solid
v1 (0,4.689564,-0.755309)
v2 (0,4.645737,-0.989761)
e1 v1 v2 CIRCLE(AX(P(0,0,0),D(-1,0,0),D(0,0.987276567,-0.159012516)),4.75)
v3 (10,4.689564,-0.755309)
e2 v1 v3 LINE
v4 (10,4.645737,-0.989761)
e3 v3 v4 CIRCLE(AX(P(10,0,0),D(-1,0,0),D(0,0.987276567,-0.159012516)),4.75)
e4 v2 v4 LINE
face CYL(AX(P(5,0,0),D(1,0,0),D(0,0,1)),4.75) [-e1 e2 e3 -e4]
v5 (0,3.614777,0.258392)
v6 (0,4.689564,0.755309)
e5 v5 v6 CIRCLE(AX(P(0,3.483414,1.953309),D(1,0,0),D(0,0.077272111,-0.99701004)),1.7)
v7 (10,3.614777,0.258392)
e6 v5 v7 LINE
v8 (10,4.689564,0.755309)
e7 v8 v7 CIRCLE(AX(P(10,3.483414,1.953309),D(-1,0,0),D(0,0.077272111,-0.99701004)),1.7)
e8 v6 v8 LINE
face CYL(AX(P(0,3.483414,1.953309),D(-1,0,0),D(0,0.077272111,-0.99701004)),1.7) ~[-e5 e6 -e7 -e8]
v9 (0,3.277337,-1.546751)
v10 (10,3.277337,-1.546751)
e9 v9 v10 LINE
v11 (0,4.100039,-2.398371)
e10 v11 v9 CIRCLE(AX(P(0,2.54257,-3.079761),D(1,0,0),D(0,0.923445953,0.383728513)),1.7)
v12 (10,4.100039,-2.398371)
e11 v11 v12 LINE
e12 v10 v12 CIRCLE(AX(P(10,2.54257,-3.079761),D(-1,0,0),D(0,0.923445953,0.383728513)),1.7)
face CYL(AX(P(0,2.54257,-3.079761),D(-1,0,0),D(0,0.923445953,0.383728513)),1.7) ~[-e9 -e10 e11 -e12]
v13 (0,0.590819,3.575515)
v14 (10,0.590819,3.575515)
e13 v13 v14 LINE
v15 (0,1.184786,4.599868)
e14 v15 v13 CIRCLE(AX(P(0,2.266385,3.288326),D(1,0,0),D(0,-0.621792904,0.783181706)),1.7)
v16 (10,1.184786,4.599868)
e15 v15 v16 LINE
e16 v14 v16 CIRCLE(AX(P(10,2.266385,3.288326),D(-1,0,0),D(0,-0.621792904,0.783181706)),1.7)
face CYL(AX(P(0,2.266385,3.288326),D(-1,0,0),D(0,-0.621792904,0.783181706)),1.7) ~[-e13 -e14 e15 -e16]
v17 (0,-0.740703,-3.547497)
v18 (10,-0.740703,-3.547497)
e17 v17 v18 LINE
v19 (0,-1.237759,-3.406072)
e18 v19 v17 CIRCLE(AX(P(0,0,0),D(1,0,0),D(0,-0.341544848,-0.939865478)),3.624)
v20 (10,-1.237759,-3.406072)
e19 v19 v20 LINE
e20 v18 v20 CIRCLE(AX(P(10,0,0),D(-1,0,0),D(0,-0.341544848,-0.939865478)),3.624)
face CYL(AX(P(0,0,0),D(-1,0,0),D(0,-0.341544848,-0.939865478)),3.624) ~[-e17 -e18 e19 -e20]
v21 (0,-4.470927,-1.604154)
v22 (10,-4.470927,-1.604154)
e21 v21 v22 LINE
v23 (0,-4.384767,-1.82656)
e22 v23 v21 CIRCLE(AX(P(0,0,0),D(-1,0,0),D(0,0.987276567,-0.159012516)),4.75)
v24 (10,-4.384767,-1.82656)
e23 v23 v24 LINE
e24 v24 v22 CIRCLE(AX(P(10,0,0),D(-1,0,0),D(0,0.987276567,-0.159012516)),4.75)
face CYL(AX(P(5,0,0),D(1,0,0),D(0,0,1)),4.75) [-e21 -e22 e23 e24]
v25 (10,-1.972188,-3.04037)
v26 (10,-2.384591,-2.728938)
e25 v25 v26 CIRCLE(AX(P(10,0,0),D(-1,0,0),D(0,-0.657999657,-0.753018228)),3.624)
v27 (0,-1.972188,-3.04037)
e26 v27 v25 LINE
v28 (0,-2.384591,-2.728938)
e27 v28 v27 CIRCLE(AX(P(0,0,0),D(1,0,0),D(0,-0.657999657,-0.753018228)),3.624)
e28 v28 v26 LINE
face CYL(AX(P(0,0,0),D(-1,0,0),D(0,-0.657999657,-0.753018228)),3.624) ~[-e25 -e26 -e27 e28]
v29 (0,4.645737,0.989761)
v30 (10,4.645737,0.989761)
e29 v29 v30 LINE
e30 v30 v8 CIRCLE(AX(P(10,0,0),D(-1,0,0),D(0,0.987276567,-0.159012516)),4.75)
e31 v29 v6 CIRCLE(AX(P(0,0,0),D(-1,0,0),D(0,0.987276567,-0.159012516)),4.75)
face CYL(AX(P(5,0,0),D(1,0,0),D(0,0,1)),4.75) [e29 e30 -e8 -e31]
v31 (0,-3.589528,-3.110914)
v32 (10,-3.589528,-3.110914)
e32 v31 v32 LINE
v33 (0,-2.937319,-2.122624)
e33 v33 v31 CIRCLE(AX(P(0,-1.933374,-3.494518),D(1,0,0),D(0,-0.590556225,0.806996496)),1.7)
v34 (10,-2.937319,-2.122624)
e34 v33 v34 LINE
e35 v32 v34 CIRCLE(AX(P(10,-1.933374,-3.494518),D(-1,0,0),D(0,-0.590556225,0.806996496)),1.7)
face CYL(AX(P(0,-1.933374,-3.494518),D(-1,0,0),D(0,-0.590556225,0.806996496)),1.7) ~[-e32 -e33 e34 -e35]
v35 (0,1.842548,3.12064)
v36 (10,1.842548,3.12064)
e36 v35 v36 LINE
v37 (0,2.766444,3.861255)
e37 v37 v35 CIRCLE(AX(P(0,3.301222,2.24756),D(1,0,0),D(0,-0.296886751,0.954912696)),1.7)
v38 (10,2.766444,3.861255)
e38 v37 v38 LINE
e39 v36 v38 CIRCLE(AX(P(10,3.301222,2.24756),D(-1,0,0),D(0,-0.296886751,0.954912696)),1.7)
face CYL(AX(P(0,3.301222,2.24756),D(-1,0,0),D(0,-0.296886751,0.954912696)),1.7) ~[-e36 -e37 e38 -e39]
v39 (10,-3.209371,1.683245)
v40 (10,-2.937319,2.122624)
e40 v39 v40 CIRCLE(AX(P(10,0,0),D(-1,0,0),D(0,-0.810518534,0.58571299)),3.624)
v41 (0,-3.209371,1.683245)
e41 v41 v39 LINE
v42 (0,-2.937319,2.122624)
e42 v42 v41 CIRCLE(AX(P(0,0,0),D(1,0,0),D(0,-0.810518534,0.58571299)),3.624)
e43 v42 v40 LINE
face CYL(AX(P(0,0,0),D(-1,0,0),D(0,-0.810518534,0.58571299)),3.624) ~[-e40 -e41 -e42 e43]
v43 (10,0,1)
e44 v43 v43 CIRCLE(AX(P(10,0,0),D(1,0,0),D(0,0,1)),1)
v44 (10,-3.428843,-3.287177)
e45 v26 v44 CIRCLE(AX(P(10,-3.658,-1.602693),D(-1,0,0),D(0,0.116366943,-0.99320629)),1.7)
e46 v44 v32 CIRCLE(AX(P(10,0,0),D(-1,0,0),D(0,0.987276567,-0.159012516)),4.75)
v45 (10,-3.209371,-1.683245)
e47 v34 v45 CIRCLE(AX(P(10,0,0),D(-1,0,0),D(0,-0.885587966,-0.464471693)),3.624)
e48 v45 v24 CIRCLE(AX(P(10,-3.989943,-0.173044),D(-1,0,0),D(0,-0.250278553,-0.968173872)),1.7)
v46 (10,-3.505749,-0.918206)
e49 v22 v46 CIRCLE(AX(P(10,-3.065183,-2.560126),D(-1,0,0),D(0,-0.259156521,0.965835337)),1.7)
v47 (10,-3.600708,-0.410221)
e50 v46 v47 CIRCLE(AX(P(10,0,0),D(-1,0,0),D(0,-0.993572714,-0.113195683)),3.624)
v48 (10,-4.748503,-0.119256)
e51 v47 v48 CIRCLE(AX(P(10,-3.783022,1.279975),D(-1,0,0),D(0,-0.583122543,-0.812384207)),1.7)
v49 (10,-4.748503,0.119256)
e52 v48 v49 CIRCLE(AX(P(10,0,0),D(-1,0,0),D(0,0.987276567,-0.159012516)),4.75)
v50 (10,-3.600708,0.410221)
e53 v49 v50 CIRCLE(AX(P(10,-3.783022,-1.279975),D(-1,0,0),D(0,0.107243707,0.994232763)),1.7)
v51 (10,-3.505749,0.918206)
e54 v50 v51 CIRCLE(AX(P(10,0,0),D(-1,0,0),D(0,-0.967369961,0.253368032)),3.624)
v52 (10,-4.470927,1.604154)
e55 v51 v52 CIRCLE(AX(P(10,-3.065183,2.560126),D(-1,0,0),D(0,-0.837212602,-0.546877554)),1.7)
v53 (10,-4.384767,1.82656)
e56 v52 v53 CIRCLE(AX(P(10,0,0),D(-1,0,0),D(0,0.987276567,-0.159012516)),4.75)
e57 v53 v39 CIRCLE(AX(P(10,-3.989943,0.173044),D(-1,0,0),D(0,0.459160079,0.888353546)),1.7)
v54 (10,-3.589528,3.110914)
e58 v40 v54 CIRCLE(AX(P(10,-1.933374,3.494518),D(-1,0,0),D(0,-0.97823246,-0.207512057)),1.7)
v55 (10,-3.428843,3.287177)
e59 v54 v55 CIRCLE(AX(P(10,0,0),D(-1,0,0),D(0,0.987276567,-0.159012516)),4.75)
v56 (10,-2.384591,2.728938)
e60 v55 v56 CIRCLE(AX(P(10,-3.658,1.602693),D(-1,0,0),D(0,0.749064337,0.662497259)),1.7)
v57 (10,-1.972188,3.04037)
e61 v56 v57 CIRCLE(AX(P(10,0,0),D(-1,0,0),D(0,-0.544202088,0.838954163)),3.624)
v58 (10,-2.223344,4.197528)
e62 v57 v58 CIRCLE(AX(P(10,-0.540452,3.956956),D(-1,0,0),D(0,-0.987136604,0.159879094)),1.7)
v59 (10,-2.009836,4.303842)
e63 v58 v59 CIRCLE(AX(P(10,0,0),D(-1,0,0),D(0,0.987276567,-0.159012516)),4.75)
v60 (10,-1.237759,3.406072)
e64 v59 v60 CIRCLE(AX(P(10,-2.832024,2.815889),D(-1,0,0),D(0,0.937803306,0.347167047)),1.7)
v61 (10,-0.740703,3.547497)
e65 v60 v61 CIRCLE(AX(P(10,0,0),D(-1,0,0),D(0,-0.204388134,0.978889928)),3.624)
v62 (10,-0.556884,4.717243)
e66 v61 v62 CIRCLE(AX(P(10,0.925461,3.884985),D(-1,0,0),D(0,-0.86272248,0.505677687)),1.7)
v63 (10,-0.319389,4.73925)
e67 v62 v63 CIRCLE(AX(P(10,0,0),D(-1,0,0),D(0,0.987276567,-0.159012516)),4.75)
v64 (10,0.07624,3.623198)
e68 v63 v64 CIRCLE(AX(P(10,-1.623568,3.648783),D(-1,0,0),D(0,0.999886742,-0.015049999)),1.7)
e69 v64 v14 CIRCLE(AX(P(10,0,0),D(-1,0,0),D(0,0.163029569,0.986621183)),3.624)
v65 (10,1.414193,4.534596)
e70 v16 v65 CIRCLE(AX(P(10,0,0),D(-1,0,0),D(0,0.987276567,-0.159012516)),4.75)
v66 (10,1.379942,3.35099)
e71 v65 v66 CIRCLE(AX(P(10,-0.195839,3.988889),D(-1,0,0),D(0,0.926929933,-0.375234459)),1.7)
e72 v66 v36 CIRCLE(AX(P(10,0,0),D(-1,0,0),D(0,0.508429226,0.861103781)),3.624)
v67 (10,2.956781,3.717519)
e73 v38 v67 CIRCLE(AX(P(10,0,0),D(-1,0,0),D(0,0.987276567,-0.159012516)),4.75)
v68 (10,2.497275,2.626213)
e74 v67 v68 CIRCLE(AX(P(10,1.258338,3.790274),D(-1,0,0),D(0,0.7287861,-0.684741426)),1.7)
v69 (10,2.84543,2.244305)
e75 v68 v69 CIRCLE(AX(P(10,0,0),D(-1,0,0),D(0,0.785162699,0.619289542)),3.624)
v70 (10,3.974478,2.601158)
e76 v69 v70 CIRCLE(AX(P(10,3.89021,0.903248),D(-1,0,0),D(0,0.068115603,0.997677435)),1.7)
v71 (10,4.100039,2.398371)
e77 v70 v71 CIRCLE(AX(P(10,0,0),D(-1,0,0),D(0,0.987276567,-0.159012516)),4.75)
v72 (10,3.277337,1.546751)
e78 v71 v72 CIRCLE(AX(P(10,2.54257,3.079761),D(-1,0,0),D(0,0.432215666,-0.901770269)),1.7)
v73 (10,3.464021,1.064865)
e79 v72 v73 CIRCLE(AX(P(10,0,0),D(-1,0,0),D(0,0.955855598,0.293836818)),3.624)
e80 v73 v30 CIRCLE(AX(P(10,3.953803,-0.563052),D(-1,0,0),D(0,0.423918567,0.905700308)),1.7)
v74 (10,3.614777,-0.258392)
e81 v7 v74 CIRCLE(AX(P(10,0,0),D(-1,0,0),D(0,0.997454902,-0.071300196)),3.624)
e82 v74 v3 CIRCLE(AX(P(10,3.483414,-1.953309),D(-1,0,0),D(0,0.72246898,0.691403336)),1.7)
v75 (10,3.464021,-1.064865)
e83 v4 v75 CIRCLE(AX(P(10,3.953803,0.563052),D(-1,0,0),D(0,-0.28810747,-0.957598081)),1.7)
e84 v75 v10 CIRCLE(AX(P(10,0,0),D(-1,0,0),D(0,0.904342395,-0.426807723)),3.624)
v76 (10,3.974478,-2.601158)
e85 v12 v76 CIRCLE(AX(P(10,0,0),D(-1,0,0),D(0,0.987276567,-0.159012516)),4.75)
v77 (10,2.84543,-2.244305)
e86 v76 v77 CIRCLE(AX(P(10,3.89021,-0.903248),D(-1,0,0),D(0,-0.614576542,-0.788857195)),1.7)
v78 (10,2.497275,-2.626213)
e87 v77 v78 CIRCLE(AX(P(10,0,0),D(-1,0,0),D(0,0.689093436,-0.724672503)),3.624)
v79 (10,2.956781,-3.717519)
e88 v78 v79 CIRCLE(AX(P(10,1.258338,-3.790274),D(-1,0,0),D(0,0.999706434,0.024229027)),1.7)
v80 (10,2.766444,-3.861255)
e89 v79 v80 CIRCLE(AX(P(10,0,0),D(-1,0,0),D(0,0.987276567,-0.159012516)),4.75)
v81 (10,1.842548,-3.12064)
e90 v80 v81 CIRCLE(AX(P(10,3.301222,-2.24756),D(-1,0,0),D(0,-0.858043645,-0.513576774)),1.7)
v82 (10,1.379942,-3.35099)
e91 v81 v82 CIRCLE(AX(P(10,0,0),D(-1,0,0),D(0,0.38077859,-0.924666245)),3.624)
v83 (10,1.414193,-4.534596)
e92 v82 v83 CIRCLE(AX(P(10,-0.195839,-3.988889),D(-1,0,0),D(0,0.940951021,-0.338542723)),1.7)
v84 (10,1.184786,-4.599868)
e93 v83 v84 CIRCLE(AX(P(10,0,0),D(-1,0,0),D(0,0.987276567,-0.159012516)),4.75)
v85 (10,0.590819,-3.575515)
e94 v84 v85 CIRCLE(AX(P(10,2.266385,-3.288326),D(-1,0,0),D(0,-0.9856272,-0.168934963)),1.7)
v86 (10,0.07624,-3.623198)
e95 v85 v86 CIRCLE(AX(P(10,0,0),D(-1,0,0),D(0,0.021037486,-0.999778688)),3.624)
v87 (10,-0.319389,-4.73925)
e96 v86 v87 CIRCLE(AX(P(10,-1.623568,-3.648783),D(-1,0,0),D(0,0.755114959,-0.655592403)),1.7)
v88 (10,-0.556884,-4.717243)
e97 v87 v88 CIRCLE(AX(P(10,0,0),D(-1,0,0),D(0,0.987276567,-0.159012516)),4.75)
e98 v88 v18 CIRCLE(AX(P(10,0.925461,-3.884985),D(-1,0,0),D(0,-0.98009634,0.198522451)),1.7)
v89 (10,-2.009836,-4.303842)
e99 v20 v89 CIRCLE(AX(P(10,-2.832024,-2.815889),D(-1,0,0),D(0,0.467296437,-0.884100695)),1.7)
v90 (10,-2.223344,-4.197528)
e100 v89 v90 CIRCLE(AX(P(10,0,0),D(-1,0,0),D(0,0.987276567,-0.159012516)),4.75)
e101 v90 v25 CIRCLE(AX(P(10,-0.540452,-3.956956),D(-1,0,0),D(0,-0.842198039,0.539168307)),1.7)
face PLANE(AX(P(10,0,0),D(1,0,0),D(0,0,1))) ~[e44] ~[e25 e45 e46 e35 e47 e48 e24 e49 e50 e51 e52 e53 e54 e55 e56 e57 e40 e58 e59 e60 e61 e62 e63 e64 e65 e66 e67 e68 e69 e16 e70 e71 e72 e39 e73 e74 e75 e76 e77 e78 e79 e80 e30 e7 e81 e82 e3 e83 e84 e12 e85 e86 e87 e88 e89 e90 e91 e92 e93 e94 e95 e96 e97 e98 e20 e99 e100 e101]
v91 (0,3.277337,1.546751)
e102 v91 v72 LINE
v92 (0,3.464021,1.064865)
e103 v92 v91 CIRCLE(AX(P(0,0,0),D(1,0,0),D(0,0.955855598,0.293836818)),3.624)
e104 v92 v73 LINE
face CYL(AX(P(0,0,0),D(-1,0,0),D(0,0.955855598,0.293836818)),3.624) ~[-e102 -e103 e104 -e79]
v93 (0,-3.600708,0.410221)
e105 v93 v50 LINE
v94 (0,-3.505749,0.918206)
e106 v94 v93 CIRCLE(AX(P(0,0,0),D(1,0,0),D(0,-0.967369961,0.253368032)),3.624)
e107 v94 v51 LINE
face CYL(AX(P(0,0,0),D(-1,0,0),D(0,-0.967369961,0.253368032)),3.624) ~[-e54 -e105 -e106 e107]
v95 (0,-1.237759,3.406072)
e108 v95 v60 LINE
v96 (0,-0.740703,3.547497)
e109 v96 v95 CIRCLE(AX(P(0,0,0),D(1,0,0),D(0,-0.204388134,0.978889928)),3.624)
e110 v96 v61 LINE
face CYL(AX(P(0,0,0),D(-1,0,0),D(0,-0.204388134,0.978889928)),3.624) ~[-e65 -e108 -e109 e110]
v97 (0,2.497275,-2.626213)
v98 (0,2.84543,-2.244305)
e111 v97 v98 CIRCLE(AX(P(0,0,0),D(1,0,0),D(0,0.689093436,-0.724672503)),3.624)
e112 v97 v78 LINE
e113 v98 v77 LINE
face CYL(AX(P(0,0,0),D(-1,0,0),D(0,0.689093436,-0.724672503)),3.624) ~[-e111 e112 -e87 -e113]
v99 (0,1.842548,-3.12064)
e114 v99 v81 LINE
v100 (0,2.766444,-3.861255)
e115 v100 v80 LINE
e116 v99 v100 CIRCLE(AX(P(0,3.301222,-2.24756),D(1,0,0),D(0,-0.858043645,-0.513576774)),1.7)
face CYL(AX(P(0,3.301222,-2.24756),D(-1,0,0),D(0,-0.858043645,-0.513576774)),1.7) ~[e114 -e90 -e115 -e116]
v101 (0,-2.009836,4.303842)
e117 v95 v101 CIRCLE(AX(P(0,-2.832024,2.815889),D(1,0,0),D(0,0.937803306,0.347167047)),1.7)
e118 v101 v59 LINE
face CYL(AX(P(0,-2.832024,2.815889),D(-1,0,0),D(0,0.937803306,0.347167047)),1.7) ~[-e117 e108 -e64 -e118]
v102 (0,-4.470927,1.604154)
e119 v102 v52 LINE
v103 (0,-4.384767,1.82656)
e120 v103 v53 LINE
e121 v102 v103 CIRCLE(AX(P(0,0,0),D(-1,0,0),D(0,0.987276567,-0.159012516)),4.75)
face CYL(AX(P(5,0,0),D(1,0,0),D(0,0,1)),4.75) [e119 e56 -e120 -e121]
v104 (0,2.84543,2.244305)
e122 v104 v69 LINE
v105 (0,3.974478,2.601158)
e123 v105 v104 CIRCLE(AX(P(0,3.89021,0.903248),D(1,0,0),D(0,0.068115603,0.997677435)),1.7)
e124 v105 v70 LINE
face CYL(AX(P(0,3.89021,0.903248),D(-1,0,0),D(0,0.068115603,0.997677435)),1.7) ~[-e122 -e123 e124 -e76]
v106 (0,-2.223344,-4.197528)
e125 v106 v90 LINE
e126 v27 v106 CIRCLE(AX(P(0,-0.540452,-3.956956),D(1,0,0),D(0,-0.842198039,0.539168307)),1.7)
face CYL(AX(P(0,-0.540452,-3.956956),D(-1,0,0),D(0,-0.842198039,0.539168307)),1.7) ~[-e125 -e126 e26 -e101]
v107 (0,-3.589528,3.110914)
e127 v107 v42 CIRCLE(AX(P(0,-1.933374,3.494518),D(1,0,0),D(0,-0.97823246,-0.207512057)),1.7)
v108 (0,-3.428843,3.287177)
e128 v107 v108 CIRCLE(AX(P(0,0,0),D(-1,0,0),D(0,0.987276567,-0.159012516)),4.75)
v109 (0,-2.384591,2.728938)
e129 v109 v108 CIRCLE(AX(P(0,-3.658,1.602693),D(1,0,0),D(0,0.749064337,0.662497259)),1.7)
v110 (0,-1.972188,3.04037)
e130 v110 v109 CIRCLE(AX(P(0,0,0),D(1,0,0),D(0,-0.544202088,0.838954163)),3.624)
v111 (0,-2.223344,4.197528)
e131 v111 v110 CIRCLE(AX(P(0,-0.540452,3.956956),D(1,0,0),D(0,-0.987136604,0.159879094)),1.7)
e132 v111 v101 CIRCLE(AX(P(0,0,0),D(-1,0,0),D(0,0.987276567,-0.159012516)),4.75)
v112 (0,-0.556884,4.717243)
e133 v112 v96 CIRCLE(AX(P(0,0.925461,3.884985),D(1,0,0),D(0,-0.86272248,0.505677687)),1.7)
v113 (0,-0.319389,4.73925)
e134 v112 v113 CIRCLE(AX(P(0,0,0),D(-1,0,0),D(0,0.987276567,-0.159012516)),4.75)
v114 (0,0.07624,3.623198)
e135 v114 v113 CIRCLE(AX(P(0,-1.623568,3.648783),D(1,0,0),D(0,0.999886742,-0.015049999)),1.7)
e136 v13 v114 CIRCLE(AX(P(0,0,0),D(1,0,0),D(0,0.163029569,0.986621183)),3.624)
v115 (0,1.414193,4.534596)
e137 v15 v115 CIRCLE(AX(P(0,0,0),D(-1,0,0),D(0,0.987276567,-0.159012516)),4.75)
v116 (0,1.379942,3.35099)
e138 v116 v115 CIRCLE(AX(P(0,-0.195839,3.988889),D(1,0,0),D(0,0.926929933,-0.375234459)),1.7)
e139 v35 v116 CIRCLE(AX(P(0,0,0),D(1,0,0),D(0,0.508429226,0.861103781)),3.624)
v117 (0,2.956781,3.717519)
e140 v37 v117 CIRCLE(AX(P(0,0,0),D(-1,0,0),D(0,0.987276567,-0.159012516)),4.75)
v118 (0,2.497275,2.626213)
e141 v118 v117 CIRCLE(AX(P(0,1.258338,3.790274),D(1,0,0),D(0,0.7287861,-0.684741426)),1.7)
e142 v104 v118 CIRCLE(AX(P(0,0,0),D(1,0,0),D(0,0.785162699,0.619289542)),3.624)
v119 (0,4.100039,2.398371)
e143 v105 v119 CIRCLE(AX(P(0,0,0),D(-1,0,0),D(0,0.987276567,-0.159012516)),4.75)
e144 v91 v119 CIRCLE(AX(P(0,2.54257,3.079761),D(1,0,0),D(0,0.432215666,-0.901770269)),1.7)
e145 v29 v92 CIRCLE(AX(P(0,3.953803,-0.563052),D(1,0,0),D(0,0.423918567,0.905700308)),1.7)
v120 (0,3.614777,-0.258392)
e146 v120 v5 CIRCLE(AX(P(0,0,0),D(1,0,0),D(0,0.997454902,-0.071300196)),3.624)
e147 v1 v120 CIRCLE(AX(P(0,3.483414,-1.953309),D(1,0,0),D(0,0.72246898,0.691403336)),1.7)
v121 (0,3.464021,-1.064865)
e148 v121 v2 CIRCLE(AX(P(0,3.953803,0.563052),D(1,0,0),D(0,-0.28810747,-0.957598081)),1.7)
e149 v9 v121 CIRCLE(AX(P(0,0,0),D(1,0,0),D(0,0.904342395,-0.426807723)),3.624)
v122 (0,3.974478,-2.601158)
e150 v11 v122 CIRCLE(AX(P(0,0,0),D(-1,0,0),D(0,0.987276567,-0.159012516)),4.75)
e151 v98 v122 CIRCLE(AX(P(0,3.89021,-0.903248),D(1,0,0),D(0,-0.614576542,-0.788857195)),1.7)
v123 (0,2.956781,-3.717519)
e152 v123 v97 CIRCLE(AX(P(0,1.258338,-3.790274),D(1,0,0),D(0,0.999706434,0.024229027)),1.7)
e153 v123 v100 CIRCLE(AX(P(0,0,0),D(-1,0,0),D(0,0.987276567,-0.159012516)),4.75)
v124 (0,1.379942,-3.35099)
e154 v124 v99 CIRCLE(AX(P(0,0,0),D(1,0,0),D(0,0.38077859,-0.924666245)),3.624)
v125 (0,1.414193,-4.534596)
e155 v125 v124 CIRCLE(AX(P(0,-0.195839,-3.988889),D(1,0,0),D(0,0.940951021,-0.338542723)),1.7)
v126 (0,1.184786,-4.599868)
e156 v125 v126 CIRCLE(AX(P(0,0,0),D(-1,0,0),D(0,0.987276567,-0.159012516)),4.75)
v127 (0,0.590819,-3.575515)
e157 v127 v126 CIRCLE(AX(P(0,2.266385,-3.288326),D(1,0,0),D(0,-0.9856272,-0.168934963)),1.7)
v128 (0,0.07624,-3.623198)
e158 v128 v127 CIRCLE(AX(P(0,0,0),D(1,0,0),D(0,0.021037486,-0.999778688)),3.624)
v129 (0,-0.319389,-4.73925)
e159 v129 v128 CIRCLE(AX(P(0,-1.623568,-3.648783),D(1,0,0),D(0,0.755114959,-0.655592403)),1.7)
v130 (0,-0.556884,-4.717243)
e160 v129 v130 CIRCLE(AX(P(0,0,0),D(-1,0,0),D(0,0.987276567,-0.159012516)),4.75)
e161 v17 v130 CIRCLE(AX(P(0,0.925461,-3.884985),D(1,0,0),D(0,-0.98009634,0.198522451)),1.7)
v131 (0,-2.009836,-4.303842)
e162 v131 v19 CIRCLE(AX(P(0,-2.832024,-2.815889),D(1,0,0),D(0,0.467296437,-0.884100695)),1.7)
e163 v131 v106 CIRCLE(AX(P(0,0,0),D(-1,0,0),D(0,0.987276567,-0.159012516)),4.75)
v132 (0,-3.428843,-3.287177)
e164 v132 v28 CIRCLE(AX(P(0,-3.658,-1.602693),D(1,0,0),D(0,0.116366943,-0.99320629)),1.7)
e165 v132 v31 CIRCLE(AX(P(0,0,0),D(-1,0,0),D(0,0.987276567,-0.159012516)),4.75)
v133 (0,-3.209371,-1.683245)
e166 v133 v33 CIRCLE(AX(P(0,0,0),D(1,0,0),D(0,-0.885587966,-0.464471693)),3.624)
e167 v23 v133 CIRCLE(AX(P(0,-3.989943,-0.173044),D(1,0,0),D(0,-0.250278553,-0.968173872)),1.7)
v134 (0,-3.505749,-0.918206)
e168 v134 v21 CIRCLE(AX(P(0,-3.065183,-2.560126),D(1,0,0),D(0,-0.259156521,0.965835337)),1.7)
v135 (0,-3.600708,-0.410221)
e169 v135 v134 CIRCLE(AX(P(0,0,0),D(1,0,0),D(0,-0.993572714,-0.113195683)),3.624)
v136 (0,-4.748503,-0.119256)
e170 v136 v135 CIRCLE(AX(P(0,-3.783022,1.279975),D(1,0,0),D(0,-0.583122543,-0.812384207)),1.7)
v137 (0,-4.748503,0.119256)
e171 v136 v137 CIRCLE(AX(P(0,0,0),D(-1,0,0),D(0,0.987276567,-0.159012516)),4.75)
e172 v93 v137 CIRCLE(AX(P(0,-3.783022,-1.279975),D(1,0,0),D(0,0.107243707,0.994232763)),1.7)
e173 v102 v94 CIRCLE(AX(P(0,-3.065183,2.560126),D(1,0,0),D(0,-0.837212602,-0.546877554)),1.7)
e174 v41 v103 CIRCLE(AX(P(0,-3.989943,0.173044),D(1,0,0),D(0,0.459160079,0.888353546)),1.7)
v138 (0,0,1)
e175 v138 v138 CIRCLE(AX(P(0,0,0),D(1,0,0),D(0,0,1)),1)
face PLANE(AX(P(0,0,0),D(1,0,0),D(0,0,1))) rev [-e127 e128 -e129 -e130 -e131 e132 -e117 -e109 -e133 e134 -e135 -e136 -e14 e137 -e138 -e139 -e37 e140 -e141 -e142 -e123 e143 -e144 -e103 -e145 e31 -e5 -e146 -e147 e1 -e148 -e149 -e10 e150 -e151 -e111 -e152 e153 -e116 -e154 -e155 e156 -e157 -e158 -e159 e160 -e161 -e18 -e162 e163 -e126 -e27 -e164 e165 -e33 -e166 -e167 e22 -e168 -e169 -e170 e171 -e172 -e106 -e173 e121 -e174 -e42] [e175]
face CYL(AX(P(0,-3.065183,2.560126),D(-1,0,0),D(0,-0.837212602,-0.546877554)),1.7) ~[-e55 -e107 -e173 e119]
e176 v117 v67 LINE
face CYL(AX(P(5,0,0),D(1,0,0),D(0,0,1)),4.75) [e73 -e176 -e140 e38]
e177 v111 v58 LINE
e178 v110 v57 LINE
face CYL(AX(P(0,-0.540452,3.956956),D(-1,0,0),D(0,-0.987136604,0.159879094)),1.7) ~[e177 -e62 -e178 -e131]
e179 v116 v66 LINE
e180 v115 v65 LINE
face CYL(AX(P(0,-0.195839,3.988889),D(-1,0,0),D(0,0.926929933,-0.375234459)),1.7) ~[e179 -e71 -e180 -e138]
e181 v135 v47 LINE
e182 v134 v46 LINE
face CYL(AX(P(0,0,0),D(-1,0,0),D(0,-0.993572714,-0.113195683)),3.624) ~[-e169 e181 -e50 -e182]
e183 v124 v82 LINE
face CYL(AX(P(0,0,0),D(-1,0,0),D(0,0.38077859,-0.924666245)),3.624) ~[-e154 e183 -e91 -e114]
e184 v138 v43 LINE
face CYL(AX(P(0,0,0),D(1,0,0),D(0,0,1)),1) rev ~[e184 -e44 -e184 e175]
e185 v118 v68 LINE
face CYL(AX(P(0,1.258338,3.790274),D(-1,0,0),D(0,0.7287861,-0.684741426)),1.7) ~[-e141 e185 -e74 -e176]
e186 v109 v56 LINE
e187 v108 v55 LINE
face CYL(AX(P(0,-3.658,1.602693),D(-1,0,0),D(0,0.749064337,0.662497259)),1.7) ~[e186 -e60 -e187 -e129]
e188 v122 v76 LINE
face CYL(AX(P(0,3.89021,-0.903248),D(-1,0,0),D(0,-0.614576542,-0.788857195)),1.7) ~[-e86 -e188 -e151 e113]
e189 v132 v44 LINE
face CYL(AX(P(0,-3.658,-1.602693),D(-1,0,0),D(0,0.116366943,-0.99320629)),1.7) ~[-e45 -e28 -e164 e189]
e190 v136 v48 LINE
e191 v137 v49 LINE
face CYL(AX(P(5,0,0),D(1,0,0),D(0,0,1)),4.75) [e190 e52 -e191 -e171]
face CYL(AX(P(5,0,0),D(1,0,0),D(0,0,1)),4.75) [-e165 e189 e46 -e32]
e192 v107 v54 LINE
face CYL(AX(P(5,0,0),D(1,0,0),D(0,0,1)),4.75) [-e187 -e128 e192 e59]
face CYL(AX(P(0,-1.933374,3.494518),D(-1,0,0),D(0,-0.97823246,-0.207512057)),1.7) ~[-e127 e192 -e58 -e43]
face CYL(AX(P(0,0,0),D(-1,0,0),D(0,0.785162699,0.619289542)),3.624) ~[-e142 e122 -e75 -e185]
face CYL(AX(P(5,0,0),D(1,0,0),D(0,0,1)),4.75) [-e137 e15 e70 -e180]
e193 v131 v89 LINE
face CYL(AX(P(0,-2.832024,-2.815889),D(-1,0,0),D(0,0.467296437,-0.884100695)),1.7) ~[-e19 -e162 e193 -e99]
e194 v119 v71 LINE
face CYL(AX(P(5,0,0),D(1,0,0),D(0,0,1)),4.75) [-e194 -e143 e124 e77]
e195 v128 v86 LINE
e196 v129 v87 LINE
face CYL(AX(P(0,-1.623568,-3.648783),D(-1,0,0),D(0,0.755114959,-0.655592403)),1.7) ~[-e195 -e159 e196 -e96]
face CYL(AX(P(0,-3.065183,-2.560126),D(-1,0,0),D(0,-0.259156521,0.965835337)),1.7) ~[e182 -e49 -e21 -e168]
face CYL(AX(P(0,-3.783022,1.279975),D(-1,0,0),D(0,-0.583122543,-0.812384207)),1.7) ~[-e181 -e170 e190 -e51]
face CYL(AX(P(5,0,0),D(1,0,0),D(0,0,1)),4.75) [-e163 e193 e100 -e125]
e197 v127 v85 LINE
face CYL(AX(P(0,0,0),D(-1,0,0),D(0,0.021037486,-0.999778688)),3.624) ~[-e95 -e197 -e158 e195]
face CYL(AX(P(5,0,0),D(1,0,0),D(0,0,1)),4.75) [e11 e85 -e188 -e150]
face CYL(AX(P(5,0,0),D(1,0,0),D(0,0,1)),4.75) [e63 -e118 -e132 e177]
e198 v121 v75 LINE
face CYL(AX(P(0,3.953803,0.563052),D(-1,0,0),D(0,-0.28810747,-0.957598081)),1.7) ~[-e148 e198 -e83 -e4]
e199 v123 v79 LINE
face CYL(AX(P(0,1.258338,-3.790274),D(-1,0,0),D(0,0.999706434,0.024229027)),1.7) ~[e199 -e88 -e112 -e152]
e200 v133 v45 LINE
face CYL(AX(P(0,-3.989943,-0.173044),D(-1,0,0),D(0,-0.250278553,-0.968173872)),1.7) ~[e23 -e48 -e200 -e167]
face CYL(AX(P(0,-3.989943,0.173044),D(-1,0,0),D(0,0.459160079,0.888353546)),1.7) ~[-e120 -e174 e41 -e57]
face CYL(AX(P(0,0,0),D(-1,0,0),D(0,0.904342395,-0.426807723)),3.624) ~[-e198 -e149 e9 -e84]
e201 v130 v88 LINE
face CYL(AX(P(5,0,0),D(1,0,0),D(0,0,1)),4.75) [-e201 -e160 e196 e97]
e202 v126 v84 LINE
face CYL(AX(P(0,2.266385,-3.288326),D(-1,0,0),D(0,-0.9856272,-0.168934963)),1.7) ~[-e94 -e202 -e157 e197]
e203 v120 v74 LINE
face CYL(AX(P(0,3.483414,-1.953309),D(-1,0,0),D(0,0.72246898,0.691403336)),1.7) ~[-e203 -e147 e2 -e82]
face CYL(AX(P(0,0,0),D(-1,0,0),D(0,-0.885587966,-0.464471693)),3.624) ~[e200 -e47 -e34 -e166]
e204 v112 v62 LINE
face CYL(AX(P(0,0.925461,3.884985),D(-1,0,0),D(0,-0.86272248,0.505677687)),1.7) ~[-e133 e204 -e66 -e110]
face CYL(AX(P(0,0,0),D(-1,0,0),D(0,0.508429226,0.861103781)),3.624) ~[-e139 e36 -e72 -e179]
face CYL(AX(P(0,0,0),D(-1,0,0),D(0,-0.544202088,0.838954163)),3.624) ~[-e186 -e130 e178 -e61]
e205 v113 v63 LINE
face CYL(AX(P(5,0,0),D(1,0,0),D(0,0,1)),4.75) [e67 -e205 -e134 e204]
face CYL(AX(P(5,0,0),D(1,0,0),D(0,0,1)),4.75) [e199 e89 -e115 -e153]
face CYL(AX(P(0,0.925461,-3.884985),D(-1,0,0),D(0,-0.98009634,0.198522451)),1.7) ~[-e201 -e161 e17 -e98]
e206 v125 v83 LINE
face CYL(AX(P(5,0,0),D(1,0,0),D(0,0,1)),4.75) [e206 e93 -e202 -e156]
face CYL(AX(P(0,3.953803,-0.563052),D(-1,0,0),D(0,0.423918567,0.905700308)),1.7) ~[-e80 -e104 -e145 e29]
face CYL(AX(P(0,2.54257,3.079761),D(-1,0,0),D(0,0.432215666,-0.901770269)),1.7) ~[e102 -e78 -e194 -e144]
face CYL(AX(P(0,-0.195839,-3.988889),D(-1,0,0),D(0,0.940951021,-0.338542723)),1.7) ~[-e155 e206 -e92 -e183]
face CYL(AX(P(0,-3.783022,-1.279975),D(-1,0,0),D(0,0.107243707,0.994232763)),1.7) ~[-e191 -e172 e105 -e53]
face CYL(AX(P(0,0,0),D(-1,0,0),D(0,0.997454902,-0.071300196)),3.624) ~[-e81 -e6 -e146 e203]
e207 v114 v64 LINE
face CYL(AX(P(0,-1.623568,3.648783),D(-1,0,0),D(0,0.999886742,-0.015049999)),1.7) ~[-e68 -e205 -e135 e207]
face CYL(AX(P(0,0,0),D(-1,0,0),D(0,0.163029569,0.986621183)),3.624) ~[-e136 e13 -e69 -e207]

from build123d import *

# Parameters (mm, degrees)
BASPROSKE_W     = 10
BASPROSKE_H     = 4.75
TOOTHCUT_DEPTH  = 13.046783803
TEETHCUTS_COUNT = 17
TEETHCUTS_ANGLE = 338.823529412
BORSKE_R        = 1
BORE_DEPTH      = 50.0000508


with BuildPart() as part:
    # BasProSke → Base-Revolve (revolve)
    with BuildSketch(Plane(origin=(0, 0, 0), x_dir=(1, 0, 0), z_dir=(0, 1, 0)), mode=Mode.PRIVATE) as base_revolve_sk:
        with Locations((5, 2.375)):
            Rectangle(BASPROSKE_W, BASPROSKE_H)
    revolve(base_revolve_sk.sketch.rotate(Axis((-10, 0, 0), (1, 0, 0)), 180), axis=Axis((-10, 0, 0), (1, 0, 0)))

    # TooCutSke → ToothCut (cut, through all)
    with BuildSketch(Plane(origin=(0, 0, 0), x_dir=(0, 0, -1), z_dir=(1, 0, 0))):
        with BuildLine():
            ThreePointArc((0.258391906, 3.614776566), (0, 3.624), (-0.258391906, 3.614776566))
            ThreePointArc((-0.258391906, 3.614776566), (-0.416942797, 4.211135742), (-0.777923303, 4.711611242))
            ThreePointArc((-0.777923303, 4.711611242), (0, 4.7754), (0.777923303, 4.711611242))
            ThreePointArc((0.777923303, 4.711611242), (0.416942797, 4.211135742), (0.258391906, 3.614776566))
        make_face()
    toothcut = extrude(amount=TOOTHCUT_DEPTH, mode=Mode.SUBTRACT)

    # TeethCuts: ToothCut ×17 about axis
    teethcuts_axis = Axis((-10, 0, 0), (1, 0, 0))
    for i in range(1, TEETHCUTS_COUNT):
        add(toothcut.rotate(teethcuts_axis, i * TEETHCUTS_ANGLE / (TEETHCUTS_COUNT - 1)), mode=Mode.SUBTRACT)

    # BorSke → Bore (cut, symmetric)
    with BuildSketch(Plane(origin=(0, 0, 0), x_dir=(0, 0, -1), z_dir=(1, 0, 0))):
        with Locations(Location((0, 0, 0), (0, 0, 180))):
            Circle(BORSKE_R)
    extrude(amount=BORE_DEPTH, both=True, mode=Mode.SUBTRACT)


solid = part.part
